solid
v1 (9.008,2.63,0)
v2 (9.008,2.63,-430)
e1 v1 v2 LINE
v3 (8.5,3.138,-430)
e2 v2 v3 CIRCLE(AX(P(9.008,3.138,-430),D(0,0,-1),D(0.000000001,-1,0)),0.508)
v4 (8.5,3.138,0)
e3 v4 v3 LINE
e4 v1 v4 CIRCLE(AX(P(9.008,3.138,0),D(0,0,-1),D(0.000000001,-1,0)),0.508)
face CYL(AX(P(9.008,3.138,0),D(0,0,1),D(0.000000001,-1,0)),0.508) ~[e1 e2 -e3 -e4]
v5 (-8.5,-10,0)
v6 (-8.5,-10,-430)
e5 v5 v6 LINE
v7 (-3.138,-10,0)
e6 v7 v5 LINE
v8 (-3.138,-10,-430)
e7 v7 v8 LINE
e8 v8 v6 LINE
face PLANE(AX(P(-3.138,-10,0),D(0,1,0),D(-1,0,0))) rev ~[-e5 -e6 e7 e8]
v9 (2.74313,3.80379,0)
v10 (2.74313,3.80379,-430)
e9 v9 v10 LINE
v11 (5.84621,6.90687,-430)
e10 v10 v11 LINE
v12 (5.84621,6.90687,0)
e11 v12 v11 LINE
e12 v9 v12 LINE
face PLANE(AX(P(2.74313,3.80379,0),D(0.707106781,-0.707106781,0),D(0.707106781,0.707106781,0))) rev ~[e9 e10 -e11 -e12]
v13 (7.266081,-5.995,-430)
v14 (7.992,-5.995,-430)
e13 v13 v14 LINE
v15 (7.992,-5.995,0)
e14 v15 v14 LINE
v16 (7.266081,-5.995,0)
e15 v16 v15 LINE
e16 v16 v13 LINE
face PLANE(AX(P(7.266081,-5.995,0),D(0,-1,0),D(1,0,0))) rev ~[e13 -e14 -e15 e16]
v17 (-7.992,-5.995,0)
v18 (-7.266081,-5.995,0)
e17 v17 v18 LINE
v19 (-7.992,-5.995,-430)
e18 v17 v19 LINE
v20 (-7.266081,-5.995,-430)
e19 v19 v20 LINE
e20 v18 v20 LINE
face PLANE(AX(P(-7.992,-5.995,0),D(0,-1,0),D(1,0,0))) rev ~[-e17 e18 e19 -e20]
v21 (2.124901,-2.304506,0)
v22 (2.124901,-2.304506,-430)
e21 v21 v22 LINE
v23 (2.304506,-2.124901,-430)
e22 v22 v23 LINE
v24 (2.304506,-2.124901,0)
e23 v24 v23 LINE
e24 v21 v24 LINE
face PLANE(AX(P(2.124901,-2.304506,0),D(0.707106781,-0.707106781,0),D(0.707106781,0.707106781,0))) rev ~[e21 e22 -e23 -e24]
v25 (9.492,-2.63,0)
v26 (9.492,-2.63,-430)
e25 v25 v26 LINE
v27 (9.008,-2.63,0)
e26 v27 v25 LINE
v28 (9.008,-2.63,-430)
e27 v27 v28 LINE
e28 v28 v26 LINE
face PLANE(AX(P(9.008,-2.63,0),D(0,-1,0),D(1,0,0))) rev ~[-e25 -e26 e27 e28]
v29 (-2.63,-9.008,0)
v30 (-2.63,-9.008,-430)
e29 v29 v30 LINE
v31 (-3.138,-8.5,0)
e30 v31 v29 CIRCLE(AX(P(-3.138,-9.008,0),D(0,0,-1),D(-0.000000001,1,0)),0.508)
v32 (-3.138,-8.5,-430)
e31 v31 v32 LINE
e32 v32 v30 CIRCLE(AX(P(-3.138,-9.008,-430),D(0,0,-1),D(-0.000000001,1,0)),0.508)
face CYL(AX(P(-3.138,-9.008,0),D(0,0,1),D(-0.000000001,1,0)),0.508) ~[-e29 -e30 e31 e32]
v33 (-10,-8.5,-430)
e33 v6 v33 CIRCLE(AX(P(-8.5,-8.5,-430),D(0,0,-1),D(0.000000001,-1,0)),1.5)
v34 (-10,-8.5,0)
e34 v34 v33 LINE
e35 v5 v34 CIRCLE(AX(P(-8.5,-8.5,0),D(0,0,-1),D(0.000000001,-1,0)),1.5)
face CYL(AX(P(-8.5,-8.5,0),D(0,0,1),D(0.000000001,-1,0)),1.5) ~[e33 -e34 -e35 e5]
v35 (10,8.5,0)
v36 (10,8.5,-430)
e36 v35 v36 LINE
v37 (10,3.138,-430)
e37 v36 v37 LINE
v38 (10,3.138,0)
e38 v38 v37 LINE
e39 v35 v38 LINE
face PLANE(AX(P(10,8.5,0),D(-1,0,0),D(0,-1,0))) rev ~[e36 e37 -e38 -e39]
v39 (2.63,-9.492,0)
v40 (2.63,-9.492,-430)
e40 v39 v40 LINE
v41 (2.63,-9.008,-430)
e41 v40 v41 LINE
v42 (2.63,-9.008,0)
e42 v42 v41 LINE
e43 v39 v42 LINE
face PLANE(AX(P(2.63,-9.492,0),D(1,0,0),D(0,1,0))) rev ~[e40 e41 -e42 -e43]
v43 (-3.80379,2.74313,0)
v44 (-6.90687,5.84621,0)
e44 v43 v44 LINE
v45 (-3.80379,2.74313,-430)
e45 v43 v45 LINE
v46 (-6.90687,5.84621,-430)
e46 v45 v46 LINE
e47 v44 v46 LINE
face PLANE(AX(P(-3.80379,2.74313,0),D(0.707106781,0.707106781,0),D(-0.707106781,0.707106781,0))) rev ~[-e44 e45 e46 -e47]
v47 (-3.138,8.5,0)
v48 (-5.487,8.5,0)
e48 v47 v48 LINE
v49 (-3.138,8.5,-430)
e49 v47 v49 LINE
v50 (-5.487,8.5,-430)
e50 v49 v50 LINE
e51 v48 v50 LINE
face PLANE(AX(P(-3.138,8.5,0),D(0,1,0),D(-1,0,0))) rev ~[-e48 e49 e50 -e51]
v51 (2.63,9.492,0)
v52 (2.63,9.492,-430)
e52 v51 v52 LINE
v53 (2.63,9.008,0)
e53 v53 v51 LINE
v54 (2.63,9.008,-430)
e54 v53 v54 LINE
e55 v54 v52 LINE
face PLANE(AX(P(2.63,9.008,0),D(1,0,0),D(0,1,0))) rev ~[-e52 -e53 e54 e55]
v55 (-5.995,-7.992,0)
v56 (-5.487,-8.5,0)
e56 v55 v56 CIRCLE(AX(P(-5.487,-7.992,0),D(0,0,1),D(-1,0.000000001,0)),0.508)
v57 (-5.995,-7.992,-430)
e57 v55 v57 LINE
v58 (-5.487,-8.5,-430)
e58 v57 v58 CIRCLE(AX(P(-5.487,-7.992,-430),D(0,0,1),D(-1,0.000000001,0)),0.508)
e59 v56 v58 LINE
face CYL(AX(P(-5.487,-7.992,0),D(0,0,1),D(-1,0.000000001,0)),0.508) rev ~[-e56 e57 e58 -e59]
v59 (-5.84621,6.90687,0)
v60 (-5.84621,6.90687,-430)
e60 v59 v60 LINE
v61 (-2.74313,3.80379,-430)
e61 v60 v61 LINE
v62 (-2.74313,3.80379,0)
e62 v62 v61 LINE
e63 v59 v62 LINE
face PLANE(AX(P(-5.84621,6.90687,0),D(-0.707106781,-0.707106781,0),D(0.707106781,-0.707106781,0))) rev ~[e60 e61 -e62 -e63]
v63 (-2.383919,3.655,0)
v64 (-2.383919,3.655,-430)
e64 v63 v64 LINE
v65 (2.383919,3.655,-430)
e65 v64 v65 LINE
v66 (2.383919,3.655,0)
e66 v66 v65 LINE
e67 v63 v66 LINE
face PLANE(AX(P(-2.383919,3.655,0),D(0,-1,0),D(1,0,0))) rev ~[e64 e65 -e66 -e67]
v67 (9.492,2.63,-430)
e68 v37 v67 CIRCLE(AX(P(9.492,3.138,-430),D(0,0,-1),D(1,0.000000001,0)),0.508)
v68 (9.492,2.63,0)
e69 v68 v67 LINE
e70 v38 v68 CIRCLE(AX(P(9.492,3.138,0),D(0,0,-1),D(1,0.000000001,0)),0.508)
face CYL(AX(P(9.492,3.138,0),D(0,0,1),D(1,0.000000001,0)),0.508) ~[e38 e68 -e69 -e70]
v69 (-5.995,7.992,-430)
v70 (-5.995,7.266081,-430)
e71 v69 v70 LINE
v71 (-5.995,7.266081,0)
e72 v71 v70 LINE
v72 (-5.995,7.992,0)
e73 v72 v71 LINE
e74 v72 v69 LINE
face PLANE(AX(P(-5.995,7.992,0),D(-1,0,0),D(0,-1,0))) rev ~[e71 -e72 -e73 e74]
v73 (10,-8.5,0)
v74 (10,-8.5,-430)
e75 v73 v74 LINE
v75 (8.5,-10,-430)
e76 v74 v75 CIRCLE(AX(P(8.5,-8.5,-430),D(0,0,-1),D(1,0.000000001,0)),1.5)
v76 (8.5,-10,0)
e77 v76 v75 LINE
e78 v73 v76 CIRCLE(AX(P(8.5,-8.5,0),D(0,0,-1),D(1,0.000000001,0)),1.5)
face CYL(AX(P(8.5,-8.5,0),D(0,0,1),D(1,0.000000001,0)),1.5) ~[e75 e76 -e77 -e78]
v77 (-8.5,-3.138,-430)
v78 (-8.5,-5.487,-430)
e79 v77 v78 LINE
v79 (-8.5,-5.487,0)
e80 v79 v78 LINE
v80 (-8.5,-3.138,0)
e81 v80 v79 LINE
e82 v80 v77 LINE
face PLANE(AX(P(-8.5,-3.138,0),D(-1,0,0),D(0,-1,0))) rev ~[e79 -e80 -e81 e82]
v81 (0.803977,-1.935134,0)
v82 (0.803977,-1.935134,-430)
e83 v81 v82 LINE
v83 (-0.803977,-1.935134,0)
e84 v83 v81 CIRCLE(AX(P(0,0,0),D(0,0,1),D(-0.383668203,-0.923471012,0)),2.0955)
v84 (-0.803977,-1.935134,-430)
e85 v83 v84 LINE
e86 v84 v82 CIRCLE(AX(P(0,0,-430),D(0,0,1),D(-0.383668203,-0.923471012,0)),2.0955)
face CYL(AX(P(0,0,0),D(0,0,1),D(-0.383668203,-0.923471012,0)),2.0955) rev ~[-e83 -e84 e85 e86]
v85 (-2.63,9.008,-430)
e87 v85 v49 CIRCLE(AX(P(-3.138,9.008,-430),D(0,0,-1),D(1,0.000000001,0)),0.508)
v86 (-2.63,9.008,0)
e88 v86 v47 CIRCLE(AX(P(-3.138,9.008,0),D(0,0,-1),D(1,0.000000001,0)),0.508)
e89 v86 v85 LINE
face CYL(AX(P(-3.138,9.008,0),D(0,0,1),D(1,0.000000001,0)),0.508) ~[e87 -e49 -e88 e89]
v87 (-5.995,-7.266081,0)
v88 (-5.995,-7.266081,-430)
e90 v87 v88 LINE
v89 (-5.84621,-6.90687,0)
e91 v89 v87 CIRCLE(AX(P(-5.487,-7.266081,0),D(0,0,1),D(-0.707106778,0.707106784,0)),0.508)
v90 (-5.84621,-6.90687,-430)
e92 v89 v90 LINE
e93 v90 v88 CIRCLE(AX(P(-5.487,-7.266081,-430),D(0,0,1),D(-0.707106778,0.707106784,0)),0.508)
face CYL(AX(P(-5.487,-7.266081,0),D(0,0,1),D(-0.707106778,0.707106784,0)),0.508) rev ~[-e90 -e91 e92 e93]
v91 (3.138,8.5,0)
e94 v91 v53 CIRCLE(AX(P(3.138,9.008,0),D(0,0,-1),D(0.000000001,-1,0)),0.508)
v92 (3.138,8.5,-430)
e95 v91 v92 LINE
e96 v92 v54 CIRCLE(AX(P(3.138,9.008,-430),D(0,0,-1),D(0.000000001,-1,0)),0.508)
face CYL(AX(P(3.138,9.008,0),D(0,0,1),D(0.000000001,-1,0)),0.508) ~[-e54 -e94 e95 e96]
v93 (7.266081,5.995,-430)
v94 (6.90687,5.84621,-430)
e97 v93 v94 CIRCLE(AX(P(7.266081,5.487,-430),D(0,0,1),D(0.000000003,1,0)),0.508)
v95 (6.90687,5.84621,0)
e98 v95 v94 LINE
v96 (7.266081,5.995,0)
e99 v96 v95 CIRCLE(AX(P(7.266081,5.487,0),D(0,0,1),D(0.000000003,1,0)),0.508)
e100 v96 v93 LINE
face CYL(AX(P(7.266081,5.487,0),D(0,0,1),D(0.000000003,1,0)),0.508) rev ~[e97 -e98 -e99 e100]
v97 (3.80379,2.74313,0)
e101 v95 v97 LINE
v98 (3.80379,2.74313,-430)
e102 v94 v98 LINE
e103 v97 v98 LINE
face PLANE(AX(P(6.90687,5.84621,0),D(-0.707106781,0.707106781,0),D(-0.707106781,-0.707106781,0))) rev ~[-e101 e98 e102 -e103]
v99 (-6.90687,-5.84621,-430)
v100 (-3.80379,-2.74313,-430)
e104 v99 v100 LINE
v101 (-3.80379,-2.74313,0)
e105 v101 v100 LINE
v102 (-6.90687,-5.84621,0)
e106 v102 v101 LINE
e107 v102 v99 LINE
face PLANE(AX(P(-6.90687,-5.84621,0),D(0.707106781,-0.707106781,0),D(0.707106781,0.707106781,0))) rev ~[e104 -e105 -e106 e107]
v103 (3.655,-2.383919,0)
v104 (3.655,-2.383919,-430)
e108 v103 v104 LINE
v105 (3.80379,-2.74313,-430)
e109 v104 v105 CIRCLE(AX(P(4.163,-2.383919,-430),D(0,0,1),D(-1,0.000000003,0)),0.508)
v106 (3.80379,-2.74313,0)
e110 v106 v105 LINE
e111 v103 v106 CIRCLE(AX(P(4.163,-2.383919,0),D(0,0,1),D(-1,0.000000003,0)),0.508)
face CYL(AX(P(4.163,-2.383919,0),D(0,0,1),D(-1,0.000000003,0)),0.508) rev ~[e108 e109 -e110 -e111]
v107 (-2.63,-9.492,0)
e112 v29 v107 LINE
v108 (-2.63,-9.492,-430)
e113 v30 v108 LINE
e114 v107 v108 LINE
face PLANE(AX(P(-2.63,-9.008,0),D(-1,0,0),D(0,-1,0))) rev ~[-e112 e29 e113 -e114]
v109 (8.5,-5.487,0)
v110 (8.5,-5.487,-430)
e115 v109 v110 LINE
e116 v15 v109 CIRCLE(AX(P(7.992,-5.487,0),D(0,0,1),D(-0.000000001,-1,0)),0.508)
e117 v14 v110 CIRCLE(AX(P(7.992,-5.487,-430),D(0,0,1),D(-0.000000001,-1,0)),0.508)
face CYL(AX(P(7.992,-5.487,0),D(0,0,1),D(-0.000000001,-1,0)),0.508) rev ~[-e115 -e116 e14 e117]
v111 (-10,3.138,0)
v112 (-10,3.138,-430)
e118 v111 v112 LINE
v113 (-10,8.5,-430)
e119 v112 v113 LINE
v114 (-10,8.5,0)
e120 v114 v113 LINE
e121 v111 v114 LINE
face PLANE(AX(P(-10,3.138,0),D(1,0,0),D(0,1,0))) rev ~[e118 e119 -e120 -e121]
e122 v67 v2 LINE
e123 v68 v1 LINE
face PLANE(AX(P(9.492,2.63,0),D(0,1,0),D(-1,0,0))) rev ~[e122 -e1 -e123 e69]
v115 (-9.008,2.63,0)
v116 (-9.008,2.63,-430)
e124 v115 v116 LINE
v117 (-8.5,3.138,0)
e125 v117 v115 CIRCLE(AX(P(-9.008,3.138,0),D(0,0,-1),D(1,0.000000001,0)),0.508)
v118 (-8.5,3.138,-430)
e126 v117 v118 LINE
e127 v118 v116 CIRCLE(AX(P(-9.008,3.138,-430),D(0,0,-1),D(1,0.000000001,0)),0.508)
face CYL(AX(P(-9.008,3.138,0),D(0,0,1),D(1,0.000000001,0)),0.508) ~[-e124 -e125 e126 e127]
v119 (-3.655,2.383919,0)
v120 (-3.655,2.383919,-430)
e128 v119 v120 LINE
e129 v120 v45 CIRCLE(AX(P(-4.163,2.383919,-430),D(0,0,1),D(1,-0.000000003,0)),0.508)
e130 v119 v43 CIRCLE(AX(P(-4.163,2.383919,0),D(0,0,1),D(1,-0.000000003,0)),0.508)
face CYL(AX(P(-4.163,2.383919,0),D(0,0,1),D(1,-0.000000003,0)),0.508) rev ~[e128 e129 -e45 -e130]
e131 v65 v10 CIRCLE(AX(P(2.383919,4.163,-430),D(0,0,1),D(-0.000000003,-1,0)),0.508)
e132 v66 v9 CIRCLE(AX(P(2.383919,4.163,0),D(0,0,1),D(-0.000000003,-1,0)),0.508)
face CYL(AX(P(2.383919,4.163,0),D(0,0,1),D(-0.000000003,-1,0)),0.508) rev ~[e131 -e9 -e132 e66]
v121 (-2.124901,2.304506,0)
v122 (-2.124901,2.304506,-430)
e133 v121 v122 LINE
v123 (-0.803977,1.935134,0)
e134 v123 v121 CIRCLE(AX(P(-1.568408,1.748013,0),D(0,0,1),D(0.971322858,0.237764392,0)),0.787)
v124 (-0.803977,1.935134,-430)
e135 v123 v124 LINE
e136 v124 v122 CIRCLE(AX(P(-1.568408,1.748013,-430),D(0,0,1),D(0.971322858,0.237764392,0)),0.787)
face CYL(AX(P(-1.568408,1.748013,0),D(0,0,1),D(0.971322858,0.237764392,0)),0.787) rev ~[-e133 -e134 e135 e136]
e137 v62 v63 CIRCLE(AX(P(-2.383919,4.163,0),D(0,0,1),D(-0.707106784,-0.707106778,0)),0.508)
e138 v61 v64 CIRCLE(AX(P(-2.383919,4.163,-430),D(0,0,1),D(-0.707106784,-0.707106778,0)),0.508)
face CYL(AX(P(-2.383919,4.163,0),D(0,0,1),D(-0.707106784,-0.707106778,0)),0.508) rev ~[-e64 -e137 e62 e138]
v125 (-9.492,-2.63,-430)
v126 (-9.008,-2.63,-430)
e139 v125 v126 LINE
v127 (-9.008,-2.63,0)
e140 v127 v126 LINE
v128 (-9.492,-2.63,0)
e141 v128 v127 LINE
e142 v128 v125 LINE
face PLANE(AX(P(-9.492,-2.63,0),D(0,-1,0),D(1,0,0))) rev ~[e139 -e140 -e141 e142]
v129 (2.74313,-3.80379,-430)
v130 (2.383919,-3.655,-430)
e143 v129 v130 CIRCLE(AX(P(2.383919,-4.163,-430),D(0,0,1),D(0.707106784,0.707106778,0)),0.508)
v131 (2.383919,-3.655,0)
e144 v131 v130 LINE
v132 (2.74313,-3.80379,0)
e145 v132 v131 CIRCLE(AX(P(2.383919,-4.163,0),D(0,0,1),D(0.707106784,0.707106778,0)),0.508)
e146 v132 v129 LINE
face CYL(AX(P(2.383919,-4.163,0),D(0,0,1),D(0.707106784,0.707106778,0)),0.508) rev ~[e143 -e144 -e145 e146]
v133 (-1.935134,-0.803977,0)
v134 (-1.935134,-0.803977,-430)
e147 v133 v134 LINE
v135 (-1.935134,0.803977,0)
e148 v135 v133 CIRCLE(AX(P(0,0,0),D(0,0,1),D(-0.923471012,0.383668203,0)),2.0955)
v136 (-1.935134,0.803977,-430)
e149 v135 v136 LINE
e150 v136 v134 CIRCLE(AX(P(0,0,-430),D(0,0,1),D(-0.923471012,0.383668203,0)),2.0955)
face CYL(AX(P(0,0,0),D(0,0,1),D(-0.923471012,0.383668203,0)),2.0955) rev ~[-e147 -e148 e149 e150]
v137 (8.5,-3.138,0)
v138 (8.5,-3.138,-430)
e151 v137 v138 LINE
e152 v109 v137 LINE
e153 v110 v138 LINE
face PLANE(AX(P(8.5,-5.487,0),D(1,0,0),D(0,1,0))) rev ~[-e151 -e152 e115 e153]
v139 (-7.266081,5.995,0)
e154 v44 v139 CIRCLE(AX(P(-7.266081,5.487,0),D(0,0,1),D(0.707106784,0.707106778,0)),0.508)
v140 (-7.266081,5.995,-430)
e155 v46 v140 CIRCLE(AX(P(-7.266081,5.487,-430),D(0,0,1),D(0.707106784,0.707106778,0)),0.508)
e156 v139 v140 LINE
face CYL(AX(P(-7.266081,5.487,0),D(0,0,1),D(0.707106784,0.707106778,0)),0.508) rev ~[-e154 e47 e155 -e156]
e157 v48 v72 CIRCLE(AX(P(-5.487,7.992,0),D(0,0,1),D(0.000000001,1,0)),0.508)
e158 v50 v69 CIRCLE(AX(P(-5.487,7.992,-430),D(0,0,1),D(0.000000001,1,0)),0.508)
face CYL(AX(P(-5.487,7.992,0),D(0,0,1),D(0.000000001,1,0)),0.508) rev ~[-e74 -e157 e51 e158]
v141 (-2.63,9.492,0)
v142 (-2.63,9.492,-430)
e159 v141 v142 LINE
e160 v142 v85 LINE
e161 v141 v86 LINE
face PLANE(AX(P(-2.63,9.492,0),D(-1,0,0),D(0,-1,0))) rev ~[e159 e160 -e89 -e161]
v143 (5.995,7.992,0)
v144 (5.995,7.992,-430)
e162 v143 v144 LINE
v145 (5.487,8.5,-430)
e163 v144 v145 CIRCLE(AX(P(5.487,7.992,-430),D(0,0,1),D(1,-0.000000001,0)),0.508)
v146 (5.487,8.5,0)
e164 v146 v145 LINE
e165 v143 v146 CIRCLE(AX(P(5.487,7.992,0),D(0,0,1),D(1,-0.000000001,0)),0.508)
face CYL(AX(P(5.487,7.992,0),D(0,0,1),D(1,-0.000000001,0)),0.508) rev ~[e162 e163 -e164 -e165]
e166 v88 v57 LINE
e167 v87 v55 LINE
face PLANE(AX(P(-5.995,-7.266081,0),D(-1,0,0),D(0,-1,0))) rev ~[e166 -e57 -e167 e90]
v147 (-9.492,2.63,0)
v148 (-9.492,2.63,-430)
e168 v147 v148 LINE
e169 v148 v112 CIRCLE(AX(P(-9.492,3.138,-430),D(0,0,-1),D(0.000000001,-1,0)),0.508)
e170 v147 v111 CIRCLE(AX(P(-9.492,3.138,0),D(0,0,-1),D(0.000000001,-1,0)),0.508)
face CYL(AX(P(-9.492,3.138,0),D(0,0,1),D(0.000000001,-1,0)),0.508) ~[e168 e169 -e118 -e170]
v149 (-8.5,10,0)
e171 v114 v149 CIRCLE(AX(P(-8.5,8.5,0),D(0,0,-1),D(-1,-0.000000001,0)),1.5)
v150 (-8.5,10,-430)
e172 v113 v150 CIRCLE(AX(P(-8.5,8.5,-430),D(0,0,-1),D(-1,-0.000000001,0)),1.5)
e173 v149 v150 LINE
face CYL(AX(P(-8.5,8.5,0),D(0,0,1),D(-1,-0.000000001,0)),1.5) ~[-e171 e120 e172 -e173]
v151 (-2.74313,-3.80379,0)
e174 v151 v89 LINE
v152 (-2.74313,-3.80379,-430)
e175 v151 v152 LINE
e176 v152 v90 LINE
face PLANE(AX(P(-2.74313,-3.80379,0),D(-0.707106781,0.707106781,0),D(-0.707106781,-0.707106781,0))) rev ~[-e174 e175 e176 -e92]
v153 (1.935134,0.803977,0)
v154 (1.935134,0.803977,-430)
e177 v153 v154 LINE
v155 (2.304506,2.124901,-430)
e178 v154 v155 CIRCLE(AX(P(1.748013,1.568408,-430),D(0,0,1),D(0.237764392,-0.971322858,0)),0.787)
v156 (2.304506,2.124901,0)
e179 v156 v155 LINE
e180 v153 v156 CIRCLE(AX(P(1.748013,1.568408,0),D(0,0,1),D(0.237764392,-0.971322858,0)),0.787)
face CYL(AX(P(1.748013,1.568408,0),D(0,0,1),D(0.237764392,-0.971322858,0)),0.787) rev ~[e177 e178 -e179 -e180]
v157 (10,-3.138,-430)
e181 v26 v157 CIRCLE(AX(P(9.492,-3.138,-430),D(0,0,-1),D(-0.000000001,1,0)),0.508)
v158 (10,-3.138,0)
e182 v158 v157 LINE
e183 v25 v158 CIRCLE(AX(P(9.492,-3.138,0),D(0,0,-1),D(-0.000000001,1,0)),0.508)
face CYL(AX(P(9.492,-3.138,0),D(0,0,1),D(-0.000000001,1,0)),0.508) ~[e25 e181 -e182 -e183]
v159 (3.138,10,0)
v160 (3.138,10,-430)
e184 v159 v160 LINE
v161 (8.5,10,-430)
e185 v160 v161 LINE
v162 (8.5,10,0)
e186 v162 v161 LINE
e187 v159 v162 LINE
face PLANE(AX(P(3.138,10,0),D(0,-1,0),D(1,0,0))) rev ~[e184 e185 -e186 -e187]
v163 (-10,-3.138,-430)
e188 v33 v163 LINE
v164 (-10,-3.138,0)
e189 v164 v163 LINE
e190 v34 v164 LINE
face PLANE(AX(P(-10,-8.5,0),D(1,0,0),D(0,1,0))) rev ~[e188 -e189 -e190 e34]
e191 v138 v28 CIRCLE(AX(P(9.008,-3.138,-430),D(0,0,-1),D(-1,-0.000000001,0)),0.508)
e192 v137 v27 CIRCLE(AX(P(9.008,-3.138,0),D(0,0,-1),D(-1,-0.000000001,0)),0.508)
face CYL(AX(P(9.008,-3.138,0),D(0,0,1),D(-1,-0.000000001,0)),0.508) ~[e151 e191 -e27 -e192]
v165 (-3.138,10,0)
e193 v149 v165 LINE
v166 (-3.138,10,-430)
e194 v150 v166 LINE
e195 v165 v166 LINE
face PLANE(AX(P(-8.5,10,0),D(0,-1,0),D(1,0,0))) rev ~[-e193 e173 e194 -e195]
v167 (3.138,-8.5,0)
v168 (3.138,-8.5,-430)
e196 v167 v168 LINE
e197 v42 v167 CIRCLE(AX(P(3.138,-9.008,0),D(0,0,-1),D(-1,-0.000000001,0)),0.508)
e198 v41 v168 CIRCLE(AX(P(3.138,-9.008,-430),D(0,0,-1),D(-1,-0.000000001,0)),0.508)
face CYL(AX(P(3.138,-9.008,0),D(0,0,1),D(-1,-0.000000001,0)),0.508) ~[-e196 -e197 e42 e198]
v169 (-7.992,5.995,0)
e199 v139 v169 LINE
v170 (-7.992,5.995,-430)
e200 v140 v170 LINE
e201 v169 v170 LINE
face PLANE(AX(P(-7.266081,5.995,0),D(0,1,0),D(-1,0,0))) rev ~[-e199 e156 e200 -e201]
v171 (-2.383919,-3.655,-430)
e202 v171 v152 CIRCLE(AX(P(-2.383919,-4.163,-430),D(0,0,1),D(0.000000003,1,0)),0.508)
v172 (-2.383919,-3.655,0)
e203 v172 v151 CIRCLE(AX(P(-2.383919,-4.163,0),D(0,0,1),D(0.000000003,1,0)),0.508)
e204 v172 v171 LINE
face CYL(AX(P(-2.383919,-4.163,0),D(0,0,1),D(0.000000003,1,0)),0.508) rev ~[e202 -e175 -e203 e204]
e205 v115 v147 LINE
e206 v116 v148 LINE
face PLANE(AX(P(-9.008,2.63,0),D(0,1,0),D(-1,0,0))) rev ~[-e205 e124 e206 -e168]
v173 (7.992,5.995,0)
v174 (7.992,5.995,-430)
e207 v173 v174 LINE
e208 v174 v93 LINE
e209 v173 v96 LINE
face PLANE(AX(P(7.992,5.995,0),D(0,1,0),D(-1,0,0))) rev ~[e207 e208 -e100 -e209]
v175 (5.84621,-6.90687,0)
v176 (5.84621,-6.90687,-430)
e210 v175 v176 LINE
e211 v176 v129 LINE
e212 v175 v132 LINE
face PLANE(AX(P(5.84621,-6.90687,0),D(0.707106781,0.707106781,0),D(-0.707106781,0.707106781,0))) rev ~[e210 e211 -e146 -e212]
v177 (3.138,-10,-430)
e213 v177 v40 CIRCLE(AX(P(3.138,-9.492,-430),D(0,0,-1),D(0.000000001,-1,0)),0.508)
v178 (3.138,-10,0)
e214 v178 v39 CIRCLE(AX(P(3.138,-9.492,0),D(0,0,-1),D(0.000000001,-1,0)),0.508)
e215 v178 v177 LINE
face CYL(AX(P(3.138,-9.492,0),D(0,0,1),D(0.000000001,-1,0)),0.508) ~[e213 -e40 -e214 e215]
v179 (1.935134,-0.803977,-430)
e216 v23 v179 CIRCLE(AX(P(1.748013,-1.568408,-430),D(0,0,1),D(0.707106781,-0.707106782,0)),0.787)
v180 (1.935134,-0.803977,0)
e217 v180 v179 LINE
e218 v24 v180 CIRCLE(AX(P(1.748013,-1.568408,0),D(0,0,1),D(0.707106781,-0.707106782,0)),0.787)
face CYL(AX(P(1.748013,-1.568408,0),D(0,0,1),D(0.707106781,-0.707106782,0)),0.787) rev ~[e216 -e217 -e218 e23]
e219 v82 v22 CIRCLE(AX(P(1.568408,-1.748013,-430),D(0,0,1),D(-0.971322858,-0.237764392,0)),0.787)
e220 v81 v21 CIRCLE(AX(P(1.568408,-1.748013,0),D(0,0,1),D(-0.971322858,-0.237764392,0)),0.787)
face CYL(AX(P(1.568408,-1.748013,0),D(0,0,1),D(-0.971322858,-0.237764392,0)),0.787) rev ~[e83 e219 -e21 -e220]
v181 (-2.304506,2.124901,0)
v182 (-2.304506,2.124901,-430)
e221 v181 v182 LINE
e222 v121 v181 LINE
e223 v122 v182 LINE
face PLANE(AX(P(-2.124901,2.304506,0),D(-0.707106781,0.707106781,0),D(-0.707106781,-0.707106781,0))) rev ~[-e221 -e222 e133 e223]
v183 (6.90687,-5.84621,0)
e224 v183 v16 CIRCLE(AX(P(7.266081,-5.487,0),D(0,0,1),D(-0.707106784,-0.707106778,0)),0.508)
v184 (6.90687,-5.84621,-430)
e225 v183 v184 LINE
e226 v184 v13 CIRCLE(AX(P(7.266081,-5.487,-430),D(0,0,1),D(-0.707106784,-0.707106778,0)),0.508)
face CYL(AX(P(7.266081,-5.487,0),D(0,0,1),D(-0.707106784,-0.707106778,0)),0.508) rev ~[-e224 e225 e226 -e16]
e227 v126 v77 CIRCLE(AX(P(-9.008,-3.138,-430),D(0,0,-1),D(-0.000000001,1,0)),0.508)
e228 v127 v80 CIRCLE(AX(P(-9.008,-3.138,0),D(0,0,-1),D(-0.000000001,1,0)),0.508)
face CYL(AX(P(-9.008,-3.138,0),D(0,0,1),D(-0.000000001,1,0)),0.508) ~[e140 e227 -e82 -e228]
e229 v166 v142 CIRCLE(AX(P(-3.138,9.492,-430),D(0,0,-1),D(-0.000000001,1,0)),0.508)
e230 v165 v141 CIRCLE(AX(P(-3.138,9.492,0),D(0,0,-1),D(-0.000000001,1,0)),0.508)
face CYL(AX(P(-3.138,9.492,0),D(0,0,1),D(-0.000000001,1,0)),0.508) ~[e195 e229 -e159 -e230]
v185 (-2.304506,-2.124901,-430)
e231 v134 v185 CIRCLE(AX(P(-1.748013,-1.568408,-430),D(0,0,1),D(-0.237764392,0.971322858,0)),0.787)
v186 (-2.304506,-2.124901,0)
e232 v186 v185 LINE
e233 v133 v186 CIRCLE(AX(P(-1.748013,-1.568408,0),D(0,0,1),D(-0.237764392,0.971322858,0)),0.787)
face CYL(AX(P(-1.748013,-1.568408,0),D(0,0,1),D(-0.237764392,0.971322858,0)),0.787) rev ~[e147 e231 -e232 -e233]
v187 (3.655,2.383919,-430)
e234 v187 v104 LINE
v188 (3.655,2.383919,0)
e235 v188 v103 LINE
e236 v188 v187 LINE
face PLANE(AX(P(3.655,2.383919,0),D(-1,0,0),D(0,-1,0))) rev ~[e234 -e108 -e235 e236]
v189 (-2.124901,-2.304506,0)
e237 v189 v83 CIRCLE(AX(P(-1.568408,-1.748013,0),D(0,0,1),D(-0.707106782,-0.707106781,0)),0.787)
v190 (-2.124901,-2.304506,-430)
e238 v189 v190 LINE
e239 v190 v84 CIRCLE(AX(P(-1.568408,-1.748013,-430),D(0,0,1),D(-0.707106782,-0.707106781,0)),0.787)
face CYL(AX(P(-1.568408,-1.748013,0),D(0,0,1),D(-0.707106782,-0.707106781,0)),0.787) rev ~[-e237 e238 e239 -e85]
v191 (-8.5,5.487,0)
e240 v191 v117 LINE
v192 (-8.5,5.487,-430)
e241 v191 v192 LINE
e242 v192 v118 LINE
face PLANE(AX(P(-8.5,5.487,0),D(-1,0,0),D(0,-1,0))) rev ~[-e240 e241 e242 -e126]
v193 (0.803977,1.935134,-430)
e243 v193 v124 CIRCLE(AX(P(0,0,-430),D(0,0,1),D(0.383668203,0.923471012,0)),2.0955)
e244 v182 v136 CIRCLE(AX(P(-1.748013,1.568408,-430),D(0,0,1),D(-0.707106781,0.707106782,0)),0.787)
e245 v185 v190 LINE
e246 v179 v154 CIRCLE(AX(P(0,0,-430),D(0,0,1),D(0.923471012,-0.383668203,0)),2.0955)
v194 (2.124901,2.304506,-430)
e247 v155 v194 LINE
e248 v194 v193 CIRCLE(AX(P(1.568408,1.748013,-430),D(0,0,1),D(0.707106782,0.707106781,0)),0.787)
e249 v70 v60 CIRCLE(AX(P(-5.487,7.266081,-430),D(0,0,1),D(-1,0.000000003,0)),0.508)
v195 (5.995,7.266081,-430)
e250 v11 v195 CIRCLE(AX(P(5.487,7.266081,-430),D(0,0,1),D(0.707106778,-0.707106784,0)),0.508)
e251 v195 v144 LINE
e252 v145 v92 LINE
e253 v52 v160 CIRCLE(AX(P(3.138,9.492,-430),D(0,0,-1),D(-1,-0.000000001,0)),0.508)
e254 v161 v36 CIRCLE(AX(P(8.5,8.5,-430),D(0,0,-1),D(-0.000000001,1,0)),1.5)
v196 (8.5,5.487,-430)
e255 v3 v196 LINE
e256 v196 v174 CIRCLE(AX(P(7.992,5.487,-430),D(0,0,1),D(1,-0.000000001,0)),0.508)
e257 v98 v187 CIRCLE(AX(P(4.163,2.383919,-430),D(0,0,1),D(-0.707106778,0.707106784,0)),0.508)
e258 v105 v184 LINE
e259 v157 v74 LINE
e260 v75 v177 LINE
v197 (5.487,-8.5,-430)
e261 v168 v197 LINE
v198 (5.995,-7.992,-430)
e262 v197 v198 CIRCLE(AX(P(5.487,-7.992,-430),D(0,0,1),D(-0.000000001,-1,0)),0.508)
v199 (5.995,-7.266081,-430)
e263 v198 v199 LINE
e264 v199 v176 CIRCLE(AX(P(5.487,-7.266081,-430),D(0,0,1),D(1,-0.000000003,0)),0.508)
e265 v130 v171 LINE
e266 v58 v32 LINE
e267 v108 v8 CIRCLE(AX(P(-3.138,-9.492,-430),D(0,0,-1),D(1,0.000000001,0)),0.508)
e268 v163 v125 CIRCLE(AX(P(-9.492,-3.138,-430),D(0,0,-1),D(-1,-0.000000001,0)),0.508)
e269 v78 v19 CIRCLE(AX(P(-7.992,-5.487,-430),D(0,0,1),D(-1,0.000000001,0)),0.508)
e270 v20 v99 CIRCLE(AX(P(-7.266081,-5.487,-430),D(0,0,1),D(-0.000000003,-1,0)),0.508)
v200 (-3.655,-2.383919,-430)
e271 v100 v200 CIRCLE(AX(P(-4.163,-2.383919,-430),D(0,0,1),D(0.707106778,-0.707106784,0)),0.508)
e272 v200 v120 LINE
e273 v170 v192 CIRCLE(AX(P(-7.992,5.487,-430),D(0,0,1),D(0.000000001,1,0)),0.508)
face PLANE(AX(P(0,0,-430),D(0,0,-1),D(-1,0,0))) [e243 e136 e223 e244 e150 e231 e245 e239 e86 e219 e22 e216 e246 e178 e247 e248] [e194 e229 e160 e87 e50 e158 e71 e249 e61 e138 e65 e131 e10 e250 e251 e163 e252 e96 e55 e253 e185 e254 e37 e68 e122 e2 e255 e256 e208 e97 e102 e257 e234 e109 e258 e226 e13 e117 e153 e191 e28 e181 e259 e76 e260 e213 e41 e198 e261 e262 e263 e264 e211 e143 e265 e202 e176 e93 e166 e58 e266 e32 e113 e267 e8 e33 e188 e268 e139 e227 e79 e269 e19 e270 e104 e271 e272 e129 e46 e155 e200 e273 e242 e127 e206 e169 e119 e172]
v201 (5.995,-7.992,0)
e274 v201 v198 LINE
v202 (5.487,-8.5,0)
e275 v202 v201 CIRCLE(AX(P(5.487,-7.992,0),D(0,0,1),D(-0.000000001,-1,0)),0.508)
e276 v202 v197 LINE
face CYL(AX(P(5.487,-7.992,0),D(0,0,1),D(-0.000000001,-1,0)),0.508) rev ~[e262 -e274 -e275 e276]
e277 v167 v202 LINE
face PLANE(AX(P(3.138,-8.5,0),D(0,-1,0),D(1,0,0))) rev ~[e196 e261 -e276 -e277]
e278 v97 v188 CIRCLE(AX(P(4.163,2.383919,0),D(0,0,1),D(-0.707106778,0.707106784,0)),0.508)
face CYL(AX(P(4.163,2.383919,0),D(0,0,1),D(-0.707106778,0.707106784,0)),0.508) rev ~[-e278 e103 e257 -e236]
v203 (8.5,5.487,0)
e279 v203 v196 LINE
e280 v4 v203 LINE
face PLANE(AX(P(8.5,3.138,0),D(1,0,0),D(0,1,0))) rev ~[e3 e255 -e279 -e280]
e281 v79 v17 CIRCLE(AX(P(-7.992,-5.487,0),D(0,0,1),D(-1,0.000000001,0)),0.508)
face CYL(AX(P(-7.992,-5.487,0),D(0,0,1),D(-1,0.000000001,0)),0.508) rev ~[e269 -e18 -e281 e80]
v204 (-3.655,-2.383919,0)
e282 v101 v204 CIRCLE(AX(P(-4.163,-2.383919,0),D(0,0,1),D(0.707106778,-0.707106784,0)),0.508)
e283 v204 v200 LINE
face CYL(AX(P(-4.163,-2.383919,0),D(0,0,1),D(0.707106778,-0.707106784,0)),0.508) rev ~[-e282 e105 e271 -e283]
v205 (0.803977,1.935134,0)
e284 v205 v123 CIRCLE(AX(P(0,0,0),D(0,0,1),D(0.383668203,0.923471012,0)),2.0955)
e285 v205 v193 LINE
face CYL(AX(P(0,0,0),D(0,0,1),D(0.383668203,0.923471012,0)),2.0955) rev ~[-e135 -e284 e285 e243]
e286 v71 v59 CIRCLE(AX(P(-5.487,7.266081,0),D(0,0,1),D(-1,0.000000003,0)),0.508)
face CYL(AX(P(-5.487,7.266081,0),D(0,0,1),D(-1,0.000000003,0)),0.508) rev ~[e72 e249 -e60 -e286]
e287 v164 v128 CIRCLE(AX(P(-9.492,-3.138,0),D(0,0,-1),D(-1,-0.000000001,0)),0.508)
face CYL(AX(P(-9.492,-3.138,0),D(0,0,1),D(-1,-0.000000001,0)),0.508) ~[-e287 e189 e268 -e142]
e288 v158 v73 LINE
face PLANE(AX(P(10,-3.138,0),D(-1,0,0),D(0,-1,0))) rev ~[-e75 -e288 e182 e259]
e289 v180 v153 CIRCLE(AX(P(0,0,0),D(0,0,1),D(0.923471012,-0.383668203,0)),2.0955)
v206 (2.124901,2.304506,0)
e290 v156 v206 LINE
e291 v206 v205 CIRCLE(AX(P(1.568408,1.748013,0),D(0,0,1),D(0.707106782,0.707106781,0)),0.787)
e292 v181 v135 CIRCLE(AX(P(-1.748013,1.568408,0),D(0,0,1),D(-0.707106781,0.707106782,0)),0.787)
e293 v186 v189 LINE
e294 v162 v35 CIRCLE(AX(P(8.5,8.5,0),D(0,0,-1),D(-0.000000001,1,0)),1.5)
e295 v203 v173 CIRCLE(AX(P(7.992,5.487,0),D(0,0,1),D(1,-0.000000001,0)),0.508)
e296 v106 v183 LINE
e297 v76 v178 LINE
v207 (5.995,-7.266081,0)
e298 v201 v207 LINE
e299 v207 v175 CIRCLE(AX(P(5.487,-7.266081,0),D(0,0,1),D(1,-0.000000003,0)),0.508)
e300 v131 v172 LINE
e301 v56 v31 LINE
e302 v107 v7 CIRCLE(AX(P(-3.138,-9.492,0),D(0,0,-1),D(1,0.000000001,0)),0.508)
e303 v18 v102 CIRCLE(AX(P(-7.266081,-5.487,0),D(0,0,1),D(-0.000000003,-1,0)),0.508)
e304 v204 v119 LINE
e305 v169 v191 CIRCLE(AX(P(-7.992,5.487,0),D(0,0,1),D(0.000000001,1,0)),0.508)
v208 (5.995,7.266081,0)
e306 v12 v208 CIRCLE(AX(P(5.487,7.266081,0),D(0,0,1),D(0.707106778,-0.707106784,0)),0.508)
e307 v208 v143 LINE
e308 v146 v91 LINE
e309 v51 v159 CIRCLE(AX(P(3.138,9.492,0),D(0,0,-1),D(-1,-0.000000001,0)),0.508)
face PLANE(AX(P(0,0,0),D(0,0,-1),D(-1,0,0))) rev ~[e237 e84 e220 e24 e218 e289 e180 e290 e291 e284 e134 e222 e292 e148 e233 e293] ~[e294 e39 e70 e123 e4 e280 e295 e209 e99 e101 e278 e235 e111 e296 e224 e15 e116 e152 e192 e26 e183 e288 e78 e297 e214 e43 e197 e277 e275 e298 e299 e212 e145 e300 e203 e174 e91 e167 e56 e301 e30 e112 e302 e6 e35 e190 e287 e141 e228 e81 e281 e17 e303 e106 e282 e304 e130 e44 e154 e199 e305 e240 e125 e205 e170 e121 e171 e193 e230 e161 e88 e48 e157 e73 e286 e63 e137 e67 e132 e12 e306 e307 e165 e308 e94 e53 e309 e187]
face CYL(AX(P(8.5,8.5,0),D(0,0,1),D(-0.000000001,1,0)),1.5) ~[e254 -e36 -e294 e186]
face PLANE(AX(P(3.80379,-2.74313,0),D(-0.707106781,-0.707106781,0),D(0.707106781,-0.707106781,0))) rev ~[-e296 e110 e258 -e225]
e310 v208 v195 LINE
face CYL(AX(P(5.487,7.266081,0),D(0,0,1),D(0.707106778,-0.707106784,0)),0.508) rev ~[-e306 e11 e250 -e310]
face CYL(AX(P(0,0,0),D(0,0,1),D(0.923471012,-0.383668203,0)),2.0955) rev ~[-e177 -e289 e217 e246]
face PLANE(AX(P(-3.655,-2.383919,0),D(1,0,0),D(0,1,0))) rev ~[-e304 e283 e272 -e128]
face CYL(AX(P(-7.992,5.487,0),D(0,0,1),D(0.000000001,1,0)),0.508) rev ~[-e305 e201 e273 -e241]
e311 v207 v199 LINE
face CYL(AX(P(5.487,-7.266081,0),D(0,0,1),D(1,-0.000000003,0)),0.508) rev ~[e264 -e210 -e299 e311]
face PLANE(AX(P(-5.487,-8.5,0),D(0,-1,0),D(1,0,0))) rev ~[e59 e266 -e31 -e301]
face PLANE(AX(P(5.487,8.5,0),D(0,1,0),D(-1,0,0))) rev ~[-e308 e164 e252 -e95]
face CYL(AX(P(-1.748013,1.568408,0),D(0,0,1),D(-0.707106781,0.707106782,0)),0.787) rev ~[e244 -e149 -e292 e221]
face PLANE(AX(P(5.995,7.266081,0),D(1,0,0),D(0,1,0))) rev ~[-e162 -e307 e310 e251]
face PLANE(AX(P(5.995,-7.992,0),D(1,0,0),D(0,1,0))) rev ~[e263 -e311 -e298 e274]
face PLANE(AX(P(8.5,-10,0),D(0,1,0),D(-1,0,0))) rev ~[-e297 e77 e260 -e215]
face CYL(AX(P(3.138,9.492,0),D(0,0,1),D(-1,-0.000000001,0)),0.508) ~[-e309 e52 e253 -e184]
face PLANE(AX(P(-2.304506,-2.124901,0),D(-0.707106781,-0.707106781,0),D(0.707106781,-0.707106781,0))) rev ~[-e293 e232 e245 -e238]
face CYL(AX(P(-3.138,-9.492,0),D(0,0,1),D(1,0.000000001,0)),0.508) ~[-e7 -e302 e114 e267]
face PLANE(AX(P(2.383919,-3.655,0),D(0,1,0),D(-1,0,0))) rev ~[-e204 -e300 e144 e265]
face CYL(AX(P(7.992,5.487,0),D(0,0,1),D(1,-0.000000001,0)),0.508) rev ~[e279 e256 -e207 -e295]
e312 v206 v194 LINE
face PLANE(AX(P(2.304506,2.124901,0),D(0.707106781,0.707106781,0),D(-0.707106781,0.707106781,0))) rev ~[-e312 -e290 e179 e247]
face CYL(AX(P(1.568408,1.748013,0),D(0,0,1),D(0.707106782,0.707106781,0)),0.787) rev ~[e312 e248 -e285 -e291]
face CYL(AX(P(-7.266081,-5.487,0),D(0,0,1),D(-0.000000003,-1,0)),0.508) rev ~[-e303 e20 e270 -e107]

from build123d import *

# Parameters (mm, degrees)
EXTRUDE1_DEPTH = 430


with BuildPart() as part:
    # Sketch1 → Extrude1 (new body)
    with BuildSketch(Plane.XY):
        with BuildLine():
            Line((9.492, 2.63), (9.008, 2.63))
            ThreePointArc((9.008, 2.63), (8.648789755, 2.778789755), (8.5, 3.138))
            Line((8.5, 3.138), (8.5, 5.487))
            ThreePointArc((8.5, 5.487), (8.351210245, 5.846210245), (7.992, 5.995))
            Line((7.992, 5.995), (7.266080661, 5.995))
            ThreePointArc((7.266080661, 5.995), (7.071677478, 5.956330803), (6.906870417, 5.846210245))
            Line((6.906870417, 5.846210245), (3.803789755, 2.743129583))
            ThreePointArc((3.803789755, 2.743129583), (3.693669197, 2.578322522), (3.655, 2.383919339))
            Line((3.655, 2.383919339), (3.655, -2.383919339))
            ThreePointArc((3.655, -2.383919339), (3.693669197, -2.578322522), (3.803789755, -2.743129583))
            Line((3.803789755, -2.743129583), (6.906870417, -5.846210245))
            ThreePointArc((6.906870417, -5.846210245), (7.071677478, -5.956330803), (7.266080661, -5.995))
            Line((7.266080661, -5.995), (7.992, -5.995))
            ThreePointArc((7.992, -5.995), (8.351210245, -5.846210245), (8.5, -5.487))
            Line((8.5, -5.487), (8.5, -3.138))
            ThreePointArc((8.5, -3.138), (8.648789755, -2.778789755), (9.008, -2.63))
            Line((9.008, -2.63), (9.492, -2.63))
            ThreePointArc((9.492, -2.63), (9.851210245, -2.778789755), (10, -3.138))
            Line((10, -3.138), (10, -8.5))
            ThreePointArc((10, -8.5), (9.560660172, -9.560660172), (8.5, -10))
            Line((8.5, -10), (3.138, -10))
            ThreePointArc((3.138, -10), (2.778789755, -9.851210245), (2.63, -9.492))
            Line((2.63, -9.492), (2.63, -9.008))
            ThreePointArc((2.63, -9.008), (2.778789755, -8.648789755), (3.138, -8.5))
            Line((3.138, -8.5), (5.487, -8.5))
            ThreePointArc((5.487, -8.5), (5.846210245, -8.351210245), (5.995, -7.992))
            Line((5.995, -7.992), (5.995, -7.266080661))
            ThreePointArc((5.995, -7.266080661), (5.956330803, -7.071677478), (5.846210245, -6.906870417))
            Line((5.846210245, -6.906870417), (2.743129583, -3.803789755))
            ThreePointArc((2.743129583, -3.803789755), (2.578322522, -3.693669197), (2.383919339, -3.655))
            Line((2.383919339, -3.655), (-2.383919339, -3.655))
            ThreePointArc((-2.383919339, -3.655), (-2.578322522, -3.693669197), (-2.743129583, -3.803789755))
            Line((-2.743129583, -3.803789755), (-5.846210245, -6.906870417))
            ThreePointArc((-5.846210245, -6.906870417), (-5.956330803, -7.071677478), (-5.995, -7.266080661))
            Line((-5.995, -7.266080661), (-5.995, -7.992))
            ThreePointArc((-5.995, -7.992), (-5.846210245, -8.351210245), (-5.487, -8.5))
            Line((-5.487, -8.5), (-3.138, -8.5))
            ThreePointArc((-3.138, -8.5), (-2.778789755, -8.648789755), (-2.63, -9.008))
            Line((-2.63, -9.008), (-2.63, -9.492))
            ThreePointArc((-2.63, -9.492), (-2.778789755, -9.851210245), (-3.138, -10))
            Line((-3.138, -10), (-8.5, -10))
            ThreePointArc((-8.5, -10), (-9.560660172, -9.560660172), (-10, -8.5))
            Line((-10, -8.5), (-10, -3.138))
            ThreePointArc((-10, -3.138), (-9.851210245, -2.778789755), (-9.492, -2.63))
            Line((-9.492, -2.63), (-9.008, -2.63))
            ThreePointArc((-9.008, -2.63), (-8.648789755, -2.778789755), (-8.5, -3.138))
            Line((-8.5, -3.138), (-8.5, -5.487))
            ThreePointArc((-8.5, -5.487), (-8.351210245, -5.846210245), (-7.992, -5.995))
            Line((-7.992, -5.995), (-7.266080661, -5.995))
            ThreePointArc((-7.266080661, -5.995), (-7.071677478, -5.956330803), (-6.906870417, -5.846210245))
            Line((-6.906870417, -5.846210245), (-3.803789755, -2.743129583))
            ThreePointArc((-3.803789755, -2.743129583), (-3.693669197, -2.578322522), (-3.655, -2.383919339))
            Line((-3.655, -2.383919339), (-3.655, 2.383919339))
            ThreePointArc((-3.655, 2.383919339), (-3.693669197, 2.578322522), (-3.803789755, 2.743129583))
            Line((-3.803789755, 2.743129583), (-6.906870417, 5.846210245))
            ThreePointArc((-6.906870417, 5.846210245), (-7.071677478, 5.956330803), (-7.266080661, 5.995))
            Line((-7.266080661, 5.995), (-7.992, 5.995))
            ThreePointArc((-7.992, 5.995), (-8.351210245, 5.846210245), (-8.5, 5.487))
            Line((-8.5, 5.487), (-8.5, 3.138))
            ThreePointArc((-8.5, 3.138), (-8.648789755, 2.778789755), (-9.008, 2.63))
            Line((-9.008, 2.63), (-9.492, 2.63))
            ThreePointArc((-9.492, 2.63), (-9.851210245, 2.778789755), (-10, 3.138))
            Line((-10, 3.138), (-10, 8.5))
            ThreePointArc((-10, 8.5), (-9.560660172, 9.560660172), (-8.5, 10))
            Line((-8.5, 10), (-3.138, 10))
            ThreePointArc((-3.138, 10), (-2.778789755, 9.851210245), (-2.63, 9.492))
            Line((-2.63, 9.492), (-2.63, 9.008))
            ThreePointArc((-2.63, 9.008), (-2.778789755, 8.648789755), (-3.138, 8.5))
            Line((-3.138, 8.5), (-5.487, 8.5))
            ThreePointArc((-5.487, 8.5), (-5.846210245, 8.351210245), (-5.995, 7.992))
            Line((-5.995, 7.992), (-5.995, 7.266080661))
            ThreePointArc((-5.995, 7.266080661), (-5.956330803, 7.071677478), (-5.846210245, 6.906870417))
            Line((-5.846210245, 6.906870417), (-2.743129583, 3.803789755))
            ThreePointArc((-2.743129583, 3.803789755), (-2.578322522, 3.693669197), (-2.383919339, 3.655))
            Line((-2.383919339, 3.655), (2.383919339, 3.655))
            ThreePointArc((2.383919339, 3.655), (2.578322522, 3.693669197), (2.743129583, 3.803789755))
            Line((2.743129583, 3.803789755), (5.846210245, 6.906870417))
            ThreePointArc((5.846210245, 6.906870417), (5.956330803, 7.071677478), (5.995, 7.266080661))
            Line((5.995, 7.266080661), (5.995, 7.992))
            ThreePointArc((5.995, 7.992), (5.846210245, 8.351210245), (5.487, 8.5))
            Line((5.487, 8.5), (3.138, 8.5))
            ThreePointArc((3.138, 8.5), (2.778789755, 8.648789755), (2.63, 9.008))
            Line((2.63, 9.008), (2.63, 9.492))
            ThreePointArc((2.63, 9.492), (2.778789755, 9.851210245), (3.138, 10))
            Line((3.138, 10), (8.5, 10))
            ThreePointArc((8.5, 10), (9.560660172, 9.560660172), (10, 8.5))
            Line((10, 8.5), (10, 3.138))
            ThreePointArc((10, 3.138), (9.851210245, 2.778789755), (9.492, 2.63))
        make_face()
        with BuildLine():
            Line((2.124900844, -2.304505966), (2.304505966, -2.124900844))
            ThreePointArc((2.304505966, -2.124900844), (2.505938017, -1.356467811), (1.935133506, -0.803976718))
            ThreePointArc((1.935133506, -0.803976718), (2.0955, 0), (1.935133506, 0.803976718))
            ThreePointArc((1.935133506, 0.803976718), (2.505938017, 1.356467811), (2.304505966, 2.124900844))
            Line((2.304505966, 2.124900844), (2.124900844, 2.304505966))
            ThreePointArc((2.124900844, 2.304505966), (1.356467811, 2.505938017), (0.803976718, 1.935133506))
            ThreePointArc((0.803976718, 1.935133506), (0, 2.0955), (-0.803976718, 1.935133506))
            ThreePointArc((-0.803976718, 1.935133506), (-1.356467811, 2.505938017), (-2.124900844, 2.304505966))
            Line((-2.124900844, 2.304505966), (-2.304505966, 2.124900844))
            ThreePointArc((-2.304505966, 2.124900844), (-2.505938017, 1.356467811), (-1.935133506, 0.803976718))
            ThreePointArc((-1.935133506, 0.803976718), (-2.0955, 0), (-1.935133506, -0.803976718))
            ThreePointArc((-1.935133506, -0.803976718), (-2.505938017, -1.356467811), (-2.304505966, -2.124900844))
            Line((-2.304505966, -2.124900844), (-2.124900844, -2.304505966))
            ThreePointArc((-2.124900844, -2.304505966), (-1.356467811, -2.505938017), (-0.803976718, -1.935133506))
            ThreePointArc((-0.803976718, -1.935133506), (0, -2.0955), (0.803976718, -1.935133506))
            ThreePointArc((0.803976718, -1.935133506), (1.356467811, -2.505938017), (2.124900844, -2.304505966))
        make_face(mode=Mode.SUBTRACT)
    extrude(amount=-EXTRUDE1_DEPTH)


solid = part.part
